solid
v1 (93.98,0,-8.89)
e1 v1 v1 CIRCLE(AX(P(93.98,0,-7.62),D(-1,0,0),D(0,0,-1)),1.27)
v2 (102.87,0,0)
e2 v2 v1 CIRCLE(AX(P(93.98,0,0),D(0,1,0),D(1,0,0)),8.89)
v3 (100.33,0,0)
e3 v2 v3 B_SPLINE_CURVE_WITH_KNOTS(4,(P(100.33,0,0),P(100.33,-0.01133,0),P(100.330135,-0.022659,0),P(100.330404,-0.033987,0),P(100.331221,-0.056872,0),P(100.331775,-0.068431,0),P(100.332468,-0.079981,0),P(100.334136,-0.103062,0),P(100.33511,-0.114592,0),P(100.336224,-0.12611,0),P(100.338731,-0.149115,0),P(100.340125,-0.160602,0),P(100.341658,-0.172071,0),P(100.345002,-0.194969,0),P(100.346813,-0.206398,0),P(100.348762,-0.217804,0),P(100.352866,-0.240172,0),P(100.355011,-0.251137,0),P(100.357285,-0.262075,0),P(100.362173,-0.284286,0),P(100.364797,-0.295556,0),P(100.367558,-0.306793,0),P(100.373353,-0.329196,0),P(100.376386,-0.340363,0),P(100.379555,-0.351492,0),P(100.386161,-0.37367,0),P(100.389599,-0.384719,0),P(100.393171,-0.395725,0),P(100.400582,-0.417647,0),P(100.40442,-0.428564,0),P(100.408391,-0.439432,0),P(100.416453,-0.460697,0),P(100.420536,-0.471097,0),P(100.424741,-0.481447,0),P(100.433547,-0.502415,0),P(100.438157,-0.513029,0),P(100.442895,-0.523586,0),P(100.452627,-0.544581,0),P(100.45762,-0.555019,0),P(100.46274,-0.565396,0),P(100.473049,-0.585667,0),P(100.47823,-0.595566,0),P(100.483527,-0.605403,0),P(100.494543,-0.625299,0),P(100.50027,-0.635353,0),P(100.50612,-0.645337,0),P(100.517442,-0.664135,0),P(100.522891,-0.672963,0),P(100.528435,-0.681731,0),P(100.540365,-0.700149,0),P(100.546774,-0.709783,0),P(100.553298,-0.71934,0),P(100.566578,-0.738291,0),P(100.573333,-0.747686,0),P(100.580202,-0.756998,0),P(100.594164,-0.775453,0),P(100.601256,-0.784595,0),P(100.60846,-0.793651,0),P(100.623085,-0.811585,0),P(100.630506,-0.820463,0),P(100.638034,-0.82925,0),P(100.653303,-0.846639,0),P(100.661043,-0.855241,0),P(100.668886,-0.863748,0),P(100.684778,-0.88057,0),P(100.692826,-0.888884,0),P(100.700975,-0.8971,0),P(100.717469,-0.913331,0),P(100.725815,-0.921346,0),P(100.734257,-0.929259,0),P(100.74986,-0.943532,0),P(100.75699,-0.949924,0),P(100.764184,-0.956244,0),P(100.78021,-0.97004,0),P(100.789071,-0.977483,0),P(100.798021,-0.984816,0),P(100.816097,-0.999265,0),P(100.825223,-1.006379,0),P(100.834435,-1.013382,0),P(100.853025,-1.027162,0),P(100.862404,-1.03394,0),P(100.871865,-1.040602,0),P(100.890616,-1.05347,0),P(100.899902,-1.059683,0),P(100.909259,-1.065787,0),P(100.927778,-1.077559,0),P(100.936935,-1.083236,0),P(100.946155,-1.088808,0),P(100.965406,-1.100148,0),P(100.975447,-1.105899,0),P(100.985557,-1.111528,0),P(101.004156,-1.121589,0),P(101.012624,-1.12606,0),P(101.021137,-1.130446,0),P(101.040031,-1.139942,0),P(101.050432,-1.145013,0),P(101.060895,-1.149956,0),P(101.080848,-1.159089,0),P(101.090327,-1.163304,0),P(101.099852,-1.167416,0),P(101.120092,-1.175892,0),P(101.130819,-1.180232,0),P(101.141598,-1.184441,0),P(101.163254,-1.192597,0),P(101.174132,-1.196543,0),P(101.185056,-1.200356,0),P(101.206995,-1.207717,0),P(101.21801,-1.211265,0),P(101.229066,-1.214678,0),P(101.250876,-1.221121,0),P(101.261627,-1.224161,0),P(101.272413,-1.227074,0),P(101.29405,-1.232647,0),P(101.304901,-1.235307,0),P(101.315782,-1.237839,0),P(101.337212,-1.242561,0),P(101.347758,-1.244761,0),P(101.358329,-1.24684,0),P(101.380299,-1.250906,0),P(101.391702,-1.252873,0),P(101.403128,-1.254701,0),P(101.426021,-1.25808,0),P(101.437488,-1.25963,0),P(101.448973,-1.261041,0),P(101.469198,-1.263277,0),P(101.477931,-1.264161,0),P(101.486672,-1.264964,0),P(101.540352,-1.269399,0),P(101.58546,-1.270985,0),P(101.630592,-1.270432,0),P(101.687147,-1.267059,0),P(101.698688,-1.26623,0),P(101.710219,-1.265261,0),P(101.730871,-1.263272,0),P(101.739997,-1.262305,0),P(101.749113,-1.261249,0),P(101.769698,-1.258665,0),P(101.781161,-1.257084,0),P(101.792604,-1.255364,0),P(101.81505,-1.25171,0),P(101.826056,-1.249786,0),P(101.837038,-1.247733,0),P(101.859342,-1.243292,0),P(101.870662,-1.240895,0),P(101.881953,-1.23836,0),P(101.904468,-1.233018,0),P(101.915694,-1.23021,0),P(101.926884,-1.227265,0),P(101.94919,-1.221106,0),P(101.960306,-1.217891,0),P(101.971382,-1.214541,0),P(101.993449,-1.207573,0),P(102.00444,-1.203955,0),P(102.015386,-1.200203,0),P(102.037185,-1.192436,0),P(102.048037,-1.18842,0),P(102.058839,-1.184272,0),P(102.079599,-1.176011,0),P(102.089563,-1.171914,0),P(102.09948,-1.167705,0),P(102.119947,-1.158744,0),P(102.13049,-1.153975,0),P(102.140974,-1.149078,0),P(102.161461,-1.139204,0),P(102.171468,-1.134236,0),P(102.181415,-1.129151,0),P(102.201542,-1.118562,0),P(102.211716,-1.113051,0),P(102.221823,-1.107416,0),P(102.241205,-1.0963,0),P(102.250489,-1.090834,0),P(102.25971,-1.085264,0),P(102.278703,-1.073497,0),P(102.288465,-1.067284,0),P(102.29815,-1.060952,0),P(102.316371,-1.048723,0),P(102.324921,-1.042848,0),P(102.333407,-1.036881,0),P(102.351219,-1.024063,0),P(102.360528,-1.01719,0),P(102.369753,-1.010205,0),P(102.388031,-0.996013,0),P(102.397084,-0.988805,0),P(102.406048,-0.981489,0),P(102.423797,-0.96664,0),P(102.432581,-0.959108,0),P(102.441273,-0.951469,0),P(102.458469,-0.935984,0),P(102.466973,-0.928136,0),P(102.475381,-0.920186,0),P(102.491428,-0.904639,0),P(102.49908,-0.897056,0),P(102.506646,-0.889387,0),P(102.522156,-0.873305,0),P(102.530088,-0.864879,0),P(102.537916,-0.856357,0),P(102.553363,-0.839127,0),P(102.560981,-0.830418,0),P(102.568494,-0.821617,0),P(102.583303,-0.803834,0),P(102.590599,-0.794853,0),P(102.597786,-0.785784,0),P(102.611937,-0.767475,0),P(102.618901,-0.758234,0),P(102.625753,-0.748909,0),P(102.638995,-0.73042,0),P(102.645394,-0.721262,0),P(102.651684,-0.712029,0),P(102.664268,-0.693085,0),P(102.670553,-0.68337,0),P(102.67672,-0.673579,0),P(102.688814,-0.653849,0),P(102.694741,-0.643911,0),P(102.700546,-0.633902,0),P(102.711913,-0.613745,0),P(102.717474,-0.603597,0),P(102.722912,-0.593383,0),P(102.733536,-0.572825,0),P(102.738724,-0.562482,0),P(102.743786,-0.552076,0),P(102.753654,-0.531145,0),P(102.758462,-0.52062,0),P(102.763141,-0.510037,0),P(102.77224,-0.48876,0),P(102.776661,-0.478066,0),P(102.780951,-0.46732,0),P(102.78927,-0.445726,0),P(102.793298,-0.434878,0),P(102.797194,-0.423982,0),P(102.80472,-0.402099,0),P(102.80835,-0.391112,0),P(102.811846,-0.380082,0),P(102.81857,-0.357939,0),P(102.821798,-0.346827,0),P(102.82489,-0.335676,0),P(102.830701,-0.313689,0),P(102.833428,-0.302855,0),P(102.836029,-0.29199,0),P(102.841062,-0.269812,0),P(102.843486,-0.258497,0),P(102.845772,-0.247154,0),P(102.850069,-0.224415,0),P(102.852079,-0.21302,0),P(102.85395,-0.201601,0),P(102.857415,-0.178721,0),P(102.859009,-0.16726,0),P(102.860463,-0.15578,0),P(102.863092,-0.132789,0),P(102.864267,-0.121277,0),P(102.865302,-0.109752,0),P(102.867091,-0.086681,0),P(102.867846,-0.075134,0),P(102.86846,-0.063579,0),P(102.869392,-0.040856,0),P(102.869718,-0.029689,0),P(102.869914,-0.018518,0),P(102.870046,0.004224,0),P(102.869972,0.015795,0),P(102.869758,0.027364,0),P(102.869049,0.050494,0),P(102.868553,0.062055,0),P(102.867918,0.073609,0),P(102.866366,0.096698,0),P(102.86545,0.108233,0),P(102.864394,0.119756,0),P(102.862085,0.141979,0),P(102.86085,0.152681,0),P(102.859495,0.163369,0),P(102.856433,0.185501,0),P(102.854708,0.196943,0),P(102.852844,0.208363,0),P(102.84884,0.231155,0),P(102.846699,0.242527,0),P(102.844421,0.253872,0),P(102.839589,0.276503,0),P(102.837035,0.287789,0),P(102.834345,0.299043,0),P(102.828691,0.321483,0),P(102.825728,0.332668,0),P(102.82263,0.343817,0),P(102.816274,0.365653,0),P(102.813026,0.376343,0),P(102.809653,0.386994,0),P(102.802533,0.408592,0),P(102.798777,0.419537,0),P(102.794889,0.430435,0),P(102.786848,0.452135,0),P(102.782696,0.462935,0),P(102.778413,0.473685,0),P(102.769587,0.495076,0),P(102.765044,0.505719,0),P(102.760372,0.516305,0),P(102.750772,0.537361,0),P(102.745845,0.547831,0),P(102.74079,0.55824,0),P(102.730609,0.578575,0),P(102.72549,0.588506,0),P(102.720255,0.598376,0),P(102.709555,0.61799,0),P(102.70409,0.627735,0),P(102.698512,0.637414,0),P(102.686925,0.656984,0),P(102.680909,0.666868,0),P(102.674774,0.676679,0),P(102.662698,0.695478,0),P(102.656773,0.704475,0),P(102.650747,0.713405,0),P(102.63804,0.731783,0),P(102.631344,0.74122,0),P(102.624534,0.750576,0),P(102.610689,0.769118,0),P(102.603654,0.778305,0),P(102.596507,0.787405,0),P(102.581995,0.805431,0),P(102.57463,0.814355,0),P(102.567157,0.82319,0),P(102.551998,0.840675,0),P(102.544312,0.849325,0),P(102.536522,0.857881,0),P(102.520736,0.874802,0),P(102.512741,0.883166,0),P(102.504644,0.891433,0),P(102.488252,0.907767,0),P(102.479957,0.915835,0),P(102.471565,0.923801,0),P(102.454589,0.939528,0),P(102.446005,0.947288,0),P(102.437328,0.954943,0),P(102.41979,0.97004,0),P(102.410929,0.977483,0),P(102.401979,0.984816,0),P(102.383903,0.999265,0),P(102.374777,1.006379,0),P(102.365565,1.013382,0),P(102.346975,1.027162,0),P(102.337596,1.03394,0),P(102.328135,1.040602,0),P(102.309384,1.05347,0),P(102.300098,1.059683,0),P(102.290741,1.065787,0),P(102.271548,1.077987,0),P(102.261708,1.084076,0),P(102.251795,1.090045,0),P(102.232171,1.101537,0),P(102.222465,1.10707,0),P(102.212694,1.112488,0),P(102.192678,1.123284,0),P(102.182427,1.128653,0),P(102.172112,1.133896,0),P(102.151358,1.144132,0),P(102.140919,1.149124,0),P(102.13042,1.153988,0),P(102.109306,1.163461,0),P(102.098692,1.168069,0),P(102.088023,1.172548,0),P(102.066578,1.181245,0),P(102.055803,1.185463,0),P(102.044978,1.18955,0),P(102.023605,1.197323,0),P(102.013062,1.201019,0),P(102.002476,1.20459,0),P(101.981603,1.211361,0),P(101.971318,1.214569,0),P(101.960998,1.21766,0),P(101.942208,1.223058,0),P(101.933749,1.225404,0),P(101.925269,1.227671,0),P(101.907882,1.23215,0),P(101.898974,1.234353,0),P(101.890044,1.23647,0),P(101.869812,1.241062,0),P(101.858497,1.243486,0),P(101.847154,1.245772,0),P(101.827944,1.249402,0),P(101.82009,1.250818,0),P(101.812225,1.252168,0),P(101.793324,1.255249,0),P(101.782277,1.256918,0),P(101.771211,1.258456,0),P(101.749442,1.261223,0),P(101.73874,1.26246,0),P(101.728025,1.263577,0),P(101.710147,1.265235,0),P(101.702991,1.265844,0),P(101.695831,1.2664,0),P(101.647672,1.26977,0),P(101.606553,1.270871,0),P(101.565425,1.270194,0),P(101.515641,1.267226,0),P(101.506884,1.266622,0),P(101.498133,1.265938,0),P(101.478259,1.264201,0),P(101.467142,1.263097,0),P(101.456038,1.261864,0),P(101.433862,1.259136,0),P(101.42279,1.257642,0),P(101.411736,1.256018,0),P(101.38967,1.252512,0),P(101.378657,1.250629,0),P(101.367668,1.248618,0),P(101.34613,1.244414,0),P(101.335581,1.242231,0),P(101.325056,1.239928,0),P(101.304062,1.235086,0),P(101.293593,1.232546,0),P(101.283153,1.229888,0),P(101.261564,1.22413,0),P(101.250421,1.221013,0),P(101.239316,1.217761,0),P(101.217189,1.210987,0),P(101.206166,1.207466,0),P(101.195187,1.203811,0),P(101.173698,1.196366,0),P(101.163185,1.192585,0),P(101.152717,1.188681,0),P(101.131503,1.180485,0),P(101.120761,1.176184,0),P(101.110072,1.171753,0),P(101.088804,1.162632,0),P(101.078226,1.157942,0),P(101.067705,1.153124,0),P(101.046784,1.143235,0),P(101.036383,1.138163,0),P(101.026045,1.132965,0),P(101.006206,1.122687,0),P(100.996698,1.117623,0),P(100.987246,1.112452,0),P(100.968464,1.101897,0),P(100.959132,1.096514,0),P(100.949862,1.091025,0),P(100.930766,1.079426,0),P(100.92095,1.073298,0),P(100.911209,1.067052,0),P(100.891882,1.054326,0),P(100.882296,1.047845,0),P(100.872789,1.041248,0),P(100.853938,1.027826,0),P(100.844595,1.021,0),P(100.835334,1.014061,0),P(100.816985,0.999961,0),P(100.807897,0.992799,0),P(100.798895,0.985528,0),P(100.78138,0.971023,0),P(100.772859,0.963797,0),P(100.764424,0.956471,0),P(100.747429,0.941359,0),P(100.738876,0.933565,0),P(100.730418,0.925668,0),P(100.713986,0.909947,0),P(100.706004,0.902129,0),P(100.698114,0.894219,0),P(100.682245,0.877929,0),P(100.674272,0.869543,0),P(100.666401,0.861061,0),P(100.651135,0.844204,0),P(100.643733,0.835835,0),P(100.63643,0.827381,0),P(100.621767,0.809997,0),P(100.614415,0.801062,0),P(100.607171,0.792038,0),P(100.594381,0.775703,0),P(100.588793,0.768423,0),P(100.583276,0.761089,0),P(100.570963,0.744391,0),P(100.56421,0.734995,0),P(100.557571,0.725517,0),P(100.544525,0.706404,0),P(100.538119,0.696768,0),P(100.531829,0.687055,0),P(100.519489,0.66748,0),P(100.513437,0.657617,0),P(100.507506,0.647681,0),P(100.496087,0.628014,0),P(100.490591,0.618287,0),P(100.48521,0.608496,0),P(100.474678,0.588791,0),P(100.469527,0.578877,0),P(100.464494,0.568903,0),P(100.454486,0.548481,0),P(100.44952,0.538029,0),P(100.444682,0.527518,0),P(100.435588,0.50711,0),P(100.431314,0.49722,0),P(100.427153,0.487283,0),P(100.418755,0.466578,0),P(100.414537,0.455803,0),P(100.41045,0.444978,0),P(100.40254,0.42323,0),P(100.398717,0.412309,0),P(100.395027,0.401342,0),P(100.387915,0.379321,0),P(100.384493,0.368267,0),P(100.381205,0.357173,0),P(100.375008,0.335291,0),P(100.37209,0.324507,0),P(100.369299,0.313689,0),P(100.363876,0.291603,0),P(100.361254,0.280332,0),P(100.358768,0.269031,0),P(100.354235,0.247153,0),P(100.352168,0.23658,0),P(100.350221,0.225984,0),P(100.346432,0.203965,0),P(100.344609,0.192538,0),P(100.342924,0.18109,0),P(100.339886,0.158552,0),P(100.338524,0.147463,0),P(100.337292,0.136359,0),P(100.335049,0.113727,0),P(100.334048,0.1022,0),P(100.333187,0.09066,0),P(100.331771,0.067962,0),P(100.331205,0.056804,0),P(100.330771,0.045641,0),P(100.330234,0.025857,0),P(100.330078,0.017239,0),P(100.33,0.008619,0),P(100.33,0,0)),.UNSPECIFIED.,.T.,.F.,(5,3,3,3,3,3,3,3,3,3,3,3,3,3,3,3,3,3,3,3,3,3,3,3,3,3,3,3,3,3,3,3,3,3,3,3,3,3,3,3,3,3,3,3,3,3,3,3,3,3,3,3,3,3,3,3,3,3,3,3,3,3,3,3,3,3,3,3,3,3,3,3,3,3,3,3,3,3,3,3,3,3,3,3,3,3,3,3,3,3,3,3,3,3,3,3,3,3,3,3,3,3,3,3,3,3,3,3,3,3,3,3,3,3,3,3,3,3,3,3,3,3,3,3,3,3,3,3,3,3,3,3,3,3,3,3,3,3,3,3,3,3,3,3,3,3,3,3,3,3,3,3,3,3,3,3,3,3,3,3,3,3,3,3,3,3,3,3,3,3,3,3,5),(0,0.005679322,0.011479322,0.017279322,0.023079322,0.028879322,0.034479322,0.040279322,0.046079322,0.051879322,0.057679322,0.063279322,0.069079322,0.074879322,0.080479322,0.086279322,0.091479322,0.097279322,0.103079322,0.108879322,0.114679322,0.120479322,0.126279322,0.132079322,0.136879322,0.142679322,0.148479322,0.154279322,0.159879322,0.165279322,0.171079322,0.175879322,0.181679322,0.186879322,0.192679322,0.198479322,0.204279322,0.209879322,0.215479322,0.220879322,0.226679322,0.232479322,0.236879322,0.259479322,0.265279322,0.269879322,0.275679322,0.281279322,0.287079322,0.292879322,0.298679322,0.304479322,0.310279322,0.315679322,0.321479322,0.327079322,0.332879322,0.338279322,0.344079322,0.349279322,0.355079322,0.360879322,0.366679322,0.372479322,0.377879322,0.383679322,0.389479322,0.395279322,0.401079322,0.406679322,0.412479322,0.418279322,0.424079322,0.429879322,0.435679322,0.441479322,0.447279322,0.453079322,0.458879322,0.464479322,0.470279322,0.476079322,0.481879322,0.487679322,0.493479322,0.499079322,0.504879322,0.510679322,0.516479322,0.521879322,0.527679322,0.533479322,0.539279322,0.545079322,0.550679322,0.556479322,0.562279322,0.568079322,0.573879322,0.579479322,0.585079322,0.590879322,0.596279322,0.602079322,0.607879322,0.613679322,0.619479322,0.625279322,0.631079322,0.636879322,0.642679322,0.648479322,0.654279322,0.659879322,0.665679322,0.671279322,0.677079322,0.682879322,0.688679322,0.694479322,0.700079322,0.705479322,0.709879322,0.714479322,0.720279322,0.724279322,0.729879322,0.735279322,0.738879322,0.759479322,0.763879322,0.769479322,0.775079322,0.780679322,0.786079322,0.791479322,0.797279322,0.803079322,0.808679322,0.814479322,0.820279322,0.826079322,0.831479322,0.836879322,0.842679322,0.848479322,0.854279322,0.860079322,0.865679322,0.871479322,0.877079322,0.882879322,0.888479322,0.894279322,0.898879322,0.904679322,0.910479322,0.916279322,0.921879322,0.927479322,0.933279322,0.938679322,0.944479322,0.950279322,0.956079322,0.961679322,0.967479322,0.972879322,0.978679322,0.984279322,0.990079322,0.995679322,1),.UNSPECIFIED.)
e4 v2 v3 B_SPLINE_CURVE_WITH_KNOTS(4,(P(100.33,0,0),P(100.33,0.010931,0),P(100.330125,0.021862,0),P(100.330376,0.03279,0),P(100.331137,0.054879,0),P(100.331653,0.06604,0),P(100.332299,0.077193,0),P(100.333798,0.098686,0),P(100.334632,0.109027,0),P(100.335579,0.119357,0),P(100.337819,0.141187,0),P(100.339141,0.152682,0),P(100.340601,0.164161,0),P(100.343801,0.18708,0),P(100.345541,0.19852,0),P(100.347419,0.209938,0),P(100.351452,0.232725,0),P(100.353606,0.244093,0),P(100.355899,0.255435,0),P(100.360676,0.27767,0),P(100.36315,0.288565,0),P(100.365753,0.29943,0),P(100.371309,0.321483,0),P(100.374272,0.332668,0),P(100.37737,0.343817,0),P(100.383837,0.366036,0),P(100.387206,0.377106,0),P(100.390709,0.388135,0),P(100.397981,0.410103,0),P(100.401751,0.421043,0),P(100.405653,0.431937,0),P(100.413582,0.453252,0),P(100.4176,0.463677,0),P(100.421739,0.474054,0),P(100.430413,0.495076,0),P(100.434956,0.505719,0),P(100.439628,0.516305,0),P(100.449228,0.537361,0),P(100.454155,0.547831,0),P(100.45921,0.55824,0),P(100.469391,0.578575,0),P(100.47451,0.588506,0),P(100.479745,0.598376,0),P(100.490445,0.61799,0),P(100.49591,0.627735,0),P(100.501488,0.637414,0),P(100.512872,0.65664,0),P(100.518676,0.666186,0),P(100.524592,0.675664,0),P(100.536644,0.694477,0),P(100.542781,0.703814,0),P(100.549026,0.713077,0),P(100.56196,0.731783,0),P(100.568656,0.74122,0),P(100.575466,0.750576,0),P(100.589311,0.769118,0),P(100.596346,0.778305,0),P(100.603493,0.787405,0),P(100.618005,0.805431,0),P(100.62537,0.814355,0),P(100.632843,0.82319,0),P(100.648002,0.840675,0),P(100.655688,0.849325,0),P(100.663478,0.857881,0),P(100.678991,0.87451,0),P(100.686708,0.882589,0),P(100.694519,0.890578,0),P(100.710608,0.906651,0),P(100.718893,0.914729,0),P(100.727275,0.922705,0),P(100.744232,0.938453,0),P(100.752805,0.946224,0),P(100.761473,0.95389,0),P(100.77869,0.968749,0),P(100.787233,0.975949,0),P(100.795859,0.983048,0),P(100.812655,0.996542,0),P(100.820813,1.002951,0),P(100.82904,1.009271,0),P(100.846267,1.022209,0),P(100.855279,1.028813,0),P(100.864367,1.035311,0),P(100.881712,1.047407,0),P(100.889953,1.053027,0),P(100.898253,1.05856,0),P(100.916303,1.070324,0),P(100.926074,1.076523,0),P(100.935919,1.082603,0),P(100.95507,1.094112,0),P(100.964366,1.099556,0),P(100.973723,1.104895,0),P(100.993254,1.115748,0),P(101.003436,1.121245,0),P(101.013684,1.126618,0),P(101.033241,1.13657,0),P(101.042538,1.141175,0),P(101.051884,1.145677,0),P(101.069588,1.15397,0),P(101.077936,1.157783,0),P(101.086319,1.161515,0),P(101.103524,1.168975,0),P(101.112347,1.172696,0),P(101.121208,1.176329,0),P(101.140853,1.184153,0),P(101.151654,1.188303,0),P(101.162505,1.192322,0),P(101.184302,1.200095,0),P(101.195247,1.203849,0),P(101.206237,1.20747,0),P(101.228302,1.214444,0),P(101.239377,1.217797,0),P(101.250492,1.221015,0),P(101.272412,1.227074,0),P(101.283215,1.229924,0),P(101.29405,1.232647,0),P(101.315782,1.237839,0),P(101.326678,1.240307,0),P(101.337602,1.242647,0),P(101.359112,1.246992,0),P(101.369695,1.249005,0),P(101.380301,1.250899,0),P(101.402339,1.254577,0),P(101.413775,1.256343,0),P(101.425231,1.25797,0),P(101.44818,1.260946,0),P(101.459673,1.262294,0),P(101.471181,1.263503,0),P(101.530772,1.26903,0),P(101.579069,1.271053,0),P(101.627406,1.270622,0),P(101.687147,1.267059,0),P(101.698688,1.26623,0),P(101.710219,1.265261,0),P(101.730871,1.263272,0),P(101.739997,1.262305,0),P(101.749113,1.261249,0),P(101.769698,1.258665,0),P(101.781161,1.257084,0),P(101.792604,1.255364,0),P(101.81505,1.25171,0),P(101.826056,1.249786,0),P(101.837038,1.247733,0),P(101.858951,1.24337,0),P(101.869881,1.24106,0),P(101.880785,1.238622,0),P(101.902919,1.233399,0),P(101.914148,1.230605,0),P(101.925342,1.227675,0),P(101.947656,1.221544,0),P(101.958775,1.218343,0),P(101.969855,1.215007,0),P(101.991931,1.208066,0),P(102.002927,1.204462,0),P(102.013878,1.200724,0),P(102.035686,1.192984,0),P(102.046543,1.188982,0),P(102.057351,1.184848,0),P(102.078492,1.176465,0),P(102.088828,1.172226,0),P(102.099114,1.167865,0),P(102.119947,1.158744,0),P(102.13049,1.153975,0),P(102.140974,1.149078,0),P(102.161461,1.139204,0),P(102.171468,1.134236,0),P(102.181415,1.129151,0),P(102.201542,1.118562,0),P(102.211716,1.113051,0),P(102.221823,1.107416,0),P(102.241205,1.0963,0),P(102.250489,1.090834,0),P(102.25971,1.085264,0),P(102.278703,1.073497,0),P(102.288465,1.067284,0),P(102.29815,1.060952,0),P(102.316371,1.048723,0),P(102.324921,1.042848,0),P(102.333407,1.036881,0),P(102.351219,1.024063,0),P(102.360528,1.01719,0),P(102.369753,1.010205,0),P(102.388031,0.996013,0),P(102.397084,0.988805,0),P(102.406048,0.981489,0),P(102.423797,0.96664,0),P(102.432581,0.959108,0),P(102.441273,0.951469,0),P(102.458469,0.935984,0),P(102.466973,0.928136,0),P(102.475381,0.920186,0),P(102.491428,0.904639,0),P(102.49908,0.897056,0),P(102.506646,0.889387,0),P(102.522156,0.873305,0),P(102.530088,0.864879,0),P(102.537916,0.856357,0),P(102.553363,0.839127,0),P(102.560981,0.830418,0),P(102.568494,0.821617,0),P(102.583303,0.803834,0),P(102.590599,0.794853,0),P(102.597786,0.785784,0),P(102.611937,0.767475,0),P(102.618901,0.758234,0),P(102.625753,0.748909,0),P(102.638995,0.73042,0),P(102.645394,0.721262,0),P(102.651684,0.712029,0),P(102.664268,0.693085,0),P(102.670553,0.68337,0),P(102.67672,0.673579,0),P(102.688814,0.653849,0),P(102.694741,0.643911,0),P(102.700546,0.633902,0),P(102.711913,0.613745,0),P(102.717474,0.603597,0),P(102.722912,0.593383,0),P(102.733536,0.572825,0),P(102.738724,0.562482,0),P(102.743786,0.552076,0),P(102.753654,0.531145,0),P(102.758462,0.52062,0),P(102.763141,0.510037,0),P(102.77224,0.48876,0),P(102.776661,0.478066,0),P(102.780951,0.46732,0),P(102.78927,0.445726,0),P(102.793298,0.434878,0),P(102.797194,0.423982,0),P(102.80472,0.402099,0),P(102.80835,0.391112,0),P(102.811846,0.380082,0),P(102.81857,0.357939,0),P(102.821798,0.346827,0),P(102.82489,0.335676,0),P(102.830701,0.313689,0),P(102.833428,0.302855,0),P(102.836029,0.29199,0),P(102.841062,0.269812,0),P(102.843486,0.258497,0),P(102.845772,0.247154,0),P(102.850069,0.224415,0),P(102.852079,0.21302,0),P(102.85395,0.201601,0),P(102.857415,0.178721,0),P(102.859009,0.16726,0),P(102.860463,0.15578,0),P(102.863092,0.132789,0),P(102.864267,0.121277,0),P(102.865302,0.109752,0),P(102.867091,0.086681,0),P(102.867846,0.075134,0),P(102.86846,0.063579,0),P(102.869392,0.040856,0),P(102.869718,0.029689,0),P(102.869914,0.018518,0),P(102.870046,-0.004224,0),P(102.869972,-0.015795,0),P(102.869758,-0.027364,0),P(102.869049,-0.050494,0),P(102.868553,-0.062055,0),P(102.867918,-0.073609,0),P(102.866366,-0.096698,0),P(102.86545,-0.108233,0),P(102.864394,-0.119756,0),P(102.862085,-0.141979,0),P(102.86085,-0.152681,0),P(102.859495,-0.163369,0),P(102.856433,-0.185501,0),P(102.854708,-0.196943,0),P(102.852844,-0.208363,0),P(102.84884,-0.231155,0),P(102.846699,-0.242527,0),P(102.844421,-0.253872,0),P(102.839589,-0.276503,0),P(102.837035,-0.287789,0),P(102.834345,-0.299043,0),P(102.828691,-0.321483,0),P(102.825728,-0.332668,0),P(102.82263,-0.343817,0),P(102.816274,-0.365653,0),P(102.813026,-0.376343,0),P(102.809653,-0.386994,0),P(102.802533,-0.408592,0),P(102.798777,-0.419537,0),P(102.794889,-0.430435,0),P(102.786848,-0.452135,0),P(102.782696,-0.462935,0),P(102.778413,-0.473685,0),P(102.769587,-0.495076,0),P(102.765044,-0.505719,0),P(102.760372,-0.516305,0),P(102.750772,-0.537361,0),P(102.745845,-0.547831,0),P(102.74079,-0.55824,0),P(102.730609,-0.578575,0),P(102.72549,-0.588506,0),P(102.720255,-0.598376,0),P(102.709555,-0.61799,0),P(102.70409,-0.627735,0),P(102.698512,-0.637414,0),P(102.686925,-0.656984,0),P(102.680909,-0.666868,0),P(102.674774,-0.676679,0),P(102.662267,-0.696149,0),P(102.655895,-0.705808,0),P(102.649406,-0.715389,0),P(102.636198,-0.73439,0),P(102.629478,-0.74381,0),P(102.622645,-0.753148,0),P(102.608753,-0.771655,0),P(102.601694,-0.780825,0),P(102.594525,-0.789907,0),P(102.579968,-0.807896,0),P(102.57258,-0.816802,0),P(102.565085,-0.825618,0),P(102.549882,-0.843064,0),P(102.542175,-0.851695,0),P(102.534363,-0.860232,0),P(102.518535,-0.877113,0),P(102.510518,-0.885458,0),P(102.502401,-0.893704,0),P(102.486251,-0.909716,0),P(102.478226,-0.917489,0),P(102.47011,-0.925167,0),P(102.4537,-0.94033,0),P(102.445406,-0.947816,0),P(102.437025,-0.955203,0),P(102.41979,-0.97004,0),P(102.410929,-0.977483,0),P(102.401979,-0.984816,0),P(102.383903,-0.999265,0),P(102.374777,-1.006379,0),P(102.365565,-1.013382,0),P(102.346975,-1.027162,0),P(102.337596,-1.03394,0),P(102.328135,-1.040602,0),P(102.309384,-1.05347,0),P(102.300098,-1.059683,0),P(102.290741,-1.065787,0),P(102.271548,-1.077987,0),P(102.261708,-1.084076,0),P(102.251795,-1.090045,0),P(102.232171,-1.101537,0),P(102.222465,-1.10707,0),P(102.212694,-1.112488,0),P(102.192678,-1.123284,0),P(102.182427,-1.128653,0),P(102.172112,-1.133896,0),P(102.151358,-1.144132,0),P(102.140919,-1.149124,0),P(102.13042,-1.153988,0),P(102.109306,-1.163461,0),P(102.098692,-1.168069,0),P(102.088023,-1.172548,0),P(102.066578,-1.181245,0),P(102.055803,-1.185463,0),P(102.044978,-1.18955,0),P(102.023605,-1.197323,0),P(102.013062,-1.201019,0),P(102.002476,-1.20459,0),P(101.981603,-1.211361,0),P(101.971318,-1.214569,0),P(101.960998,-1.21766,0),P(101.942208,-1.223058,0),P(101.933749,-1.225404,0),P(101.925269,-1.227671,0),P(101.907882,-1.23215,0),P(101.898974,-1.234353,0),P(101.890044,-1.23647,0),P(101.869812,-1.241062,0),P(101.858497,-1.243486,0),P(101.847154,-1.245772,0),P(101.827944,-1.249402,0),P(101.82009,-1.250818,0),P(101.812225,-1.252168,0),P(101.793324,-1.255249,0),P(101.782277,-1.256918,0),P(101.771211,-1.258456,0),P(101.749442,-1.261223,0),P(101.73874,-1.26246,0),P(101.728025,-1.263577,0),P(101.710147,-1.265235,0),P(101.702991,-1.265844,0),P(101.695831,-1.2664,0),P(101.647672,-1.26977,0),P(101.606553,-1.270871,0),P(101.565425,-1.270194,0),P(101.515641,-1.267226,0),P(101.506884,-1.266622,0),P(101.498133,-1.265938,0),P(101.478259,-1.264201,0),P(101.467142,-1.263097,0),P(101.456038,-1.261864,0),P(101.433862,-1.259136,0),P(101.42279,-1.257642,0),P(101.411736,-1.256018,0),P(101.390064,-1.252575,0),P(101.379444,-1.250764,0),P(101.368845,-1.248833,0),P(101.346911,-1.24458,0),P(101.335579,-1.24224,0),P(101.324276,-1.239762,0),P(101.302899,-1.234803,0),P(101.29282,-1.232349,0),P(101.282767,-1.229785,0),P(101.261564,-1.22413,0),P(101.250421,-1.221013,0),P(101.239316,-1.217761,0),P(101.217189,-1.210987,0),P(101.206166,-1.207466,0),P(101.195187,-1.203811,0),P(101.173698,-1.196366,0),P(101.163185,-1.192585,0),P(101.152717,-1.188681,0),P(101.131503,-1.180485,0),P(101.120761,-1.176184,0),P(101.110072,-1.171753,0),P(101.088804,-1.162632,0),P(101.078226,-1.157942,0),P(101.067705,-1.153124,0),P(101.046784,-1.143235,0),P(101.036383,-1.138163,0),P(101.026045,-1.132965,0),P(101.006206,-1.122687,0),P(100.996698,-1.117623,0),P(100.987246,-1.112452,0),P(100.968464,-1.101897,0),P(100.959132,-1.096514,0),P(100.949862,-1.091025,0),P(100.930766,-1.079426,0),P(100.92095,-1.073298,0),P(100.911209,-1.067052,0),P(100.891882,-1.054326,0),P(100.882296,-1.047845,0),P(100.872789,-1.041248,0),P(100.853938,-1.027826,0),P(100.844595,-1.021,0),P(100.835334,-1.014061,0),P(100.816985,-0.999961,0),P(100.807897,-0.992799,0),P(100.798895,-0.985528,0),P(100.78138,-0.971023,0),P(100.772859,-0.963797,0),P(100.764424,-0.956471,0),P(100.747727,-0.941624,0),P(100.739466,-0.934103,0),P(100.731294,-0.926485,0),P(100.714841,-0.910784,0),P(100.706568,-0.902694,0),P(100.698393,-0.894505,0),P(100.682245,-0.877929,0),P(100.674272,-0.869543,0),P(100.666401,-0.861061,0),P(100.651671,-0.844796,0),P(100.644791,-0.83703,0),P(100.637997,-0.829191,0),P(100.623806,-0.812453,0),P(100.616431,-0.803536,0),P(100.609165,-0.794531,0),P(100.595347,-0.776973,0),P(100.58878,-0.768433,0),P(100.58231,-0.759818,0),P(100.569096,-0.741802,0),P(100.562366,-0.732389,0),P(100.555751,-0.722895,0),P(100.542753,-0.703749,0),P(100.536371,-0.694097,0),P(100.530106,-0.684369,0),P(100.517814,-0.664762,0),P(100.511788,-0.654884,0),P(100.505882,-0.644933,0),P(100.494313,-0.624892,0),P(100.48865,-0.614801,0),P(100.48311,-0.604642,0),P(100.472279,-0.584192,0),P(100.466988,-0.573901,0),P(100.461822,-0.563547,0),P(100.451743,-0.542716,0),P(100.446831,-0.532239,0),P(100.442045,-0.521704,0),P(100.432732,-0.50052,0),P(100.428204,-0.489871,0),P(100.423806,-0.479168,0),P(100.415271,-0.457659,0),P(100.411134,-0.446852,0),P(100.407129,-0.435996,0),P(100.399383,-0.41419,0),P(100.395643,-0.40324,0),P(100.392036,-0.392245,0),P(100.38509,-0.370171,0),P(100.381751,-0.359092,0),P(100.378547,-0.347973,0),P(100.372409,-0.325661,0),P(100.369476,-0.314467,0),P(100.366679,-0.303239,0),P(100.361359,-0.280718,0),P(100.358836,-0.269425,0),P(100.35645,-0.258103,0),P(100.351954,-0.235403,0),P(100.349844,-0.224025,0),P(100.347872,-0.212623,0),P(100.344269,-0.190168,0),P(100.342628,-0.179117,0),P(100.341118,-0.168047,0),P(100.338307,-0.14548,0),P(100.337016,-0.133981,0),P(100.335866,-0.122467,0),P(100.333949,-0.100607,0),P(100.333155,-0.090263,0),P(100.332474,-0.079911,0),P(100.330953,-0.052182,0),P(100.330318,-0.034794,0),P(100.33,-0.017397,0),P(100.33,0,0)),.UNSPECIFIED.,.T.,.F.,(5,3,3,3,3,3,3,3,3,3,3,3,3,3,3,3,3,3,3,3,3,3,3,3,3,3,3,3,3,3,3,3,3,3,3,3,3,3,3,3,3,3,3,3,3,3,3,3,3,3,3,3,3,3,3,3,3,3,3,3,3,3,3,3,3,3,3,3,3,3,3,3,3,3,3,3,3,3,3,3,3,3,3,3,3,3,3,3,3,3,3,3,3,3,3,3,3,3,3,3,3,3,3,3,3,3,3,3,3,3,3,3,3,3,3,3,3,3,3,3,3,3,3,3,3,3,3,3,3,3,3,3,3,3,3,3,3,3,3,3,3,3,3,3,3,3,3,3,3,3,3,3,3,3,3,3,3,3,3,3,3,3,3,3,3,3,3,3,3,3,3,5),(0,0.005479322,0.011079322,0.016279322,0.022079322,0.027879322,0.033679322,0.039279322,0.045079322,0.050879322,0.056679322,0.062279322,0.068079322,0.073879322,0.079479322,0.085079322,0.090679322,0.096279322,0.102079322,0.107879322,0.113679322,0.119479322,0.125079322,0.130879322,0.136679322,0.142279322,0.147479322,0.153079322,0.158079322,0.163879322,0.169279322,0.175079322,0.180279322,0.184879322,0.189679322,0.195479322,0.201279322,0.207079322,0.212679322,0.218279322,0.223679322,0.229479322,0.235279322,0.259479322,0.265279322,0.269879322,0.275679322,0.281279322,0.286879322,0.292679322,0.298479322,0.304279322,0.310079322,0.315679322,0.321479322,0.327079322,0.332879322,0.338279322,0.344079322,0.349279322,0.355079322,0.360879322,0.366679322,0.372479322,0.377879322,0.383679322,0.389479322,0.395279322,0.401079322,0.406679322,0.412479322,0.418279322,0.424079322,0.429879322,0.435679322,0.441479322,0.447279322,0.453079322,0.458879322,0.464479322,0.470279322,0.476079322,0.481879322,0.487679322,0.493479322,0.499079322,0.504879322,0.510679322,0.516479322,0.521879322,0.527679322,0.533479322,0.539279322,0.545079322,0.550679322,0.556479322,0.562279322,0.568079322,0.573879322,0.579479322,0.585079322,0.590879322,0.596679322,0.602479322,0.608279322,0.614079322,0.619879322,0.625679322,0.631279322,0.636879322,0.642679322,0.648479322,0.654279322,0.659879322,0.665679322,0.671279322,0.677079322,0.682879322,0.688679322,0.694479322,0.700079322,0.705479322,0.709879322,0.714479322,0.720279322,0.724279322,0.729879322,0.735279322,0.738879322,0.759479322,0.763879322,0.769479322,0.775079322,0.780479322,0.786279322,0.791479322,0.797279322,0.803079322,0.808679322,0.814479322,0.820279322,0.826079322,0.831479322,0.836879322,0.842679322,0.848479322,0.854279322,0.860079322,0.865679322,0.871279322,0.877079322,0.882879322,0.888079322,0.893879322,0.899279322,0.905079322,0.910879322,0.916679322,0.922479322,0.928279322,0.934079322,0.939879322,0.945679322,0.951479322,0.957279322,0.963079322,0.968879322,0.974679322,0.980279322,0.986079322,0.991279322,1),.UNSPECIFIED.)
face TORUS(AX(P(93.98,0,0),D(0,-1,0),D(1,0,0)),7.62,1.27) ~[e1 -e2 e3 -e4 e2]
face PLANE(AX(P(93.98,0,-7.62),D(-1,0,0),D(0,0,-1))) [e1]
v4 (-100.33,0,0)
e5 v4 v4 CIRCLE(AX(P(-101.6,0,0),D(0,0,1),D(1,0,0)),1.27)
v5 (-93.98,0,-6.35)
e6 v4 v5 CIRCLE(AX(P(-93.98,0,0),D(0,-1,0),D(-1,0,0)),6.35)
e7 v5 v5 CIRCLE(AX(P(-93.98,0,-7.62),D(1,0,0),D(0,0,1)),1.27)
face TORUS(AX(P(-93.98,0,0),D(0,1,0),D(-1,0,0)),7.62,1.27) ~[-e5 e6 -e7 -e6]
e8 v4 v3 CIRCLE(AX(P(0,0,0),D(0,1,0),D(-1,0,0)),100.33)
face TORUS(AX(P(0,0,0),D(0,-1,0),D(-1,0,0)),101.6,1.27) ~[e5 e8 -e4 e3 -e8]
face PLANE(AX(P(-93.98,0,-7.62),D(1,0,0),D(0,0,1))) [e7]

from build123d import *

# Parameters (mm, degrees)
F0_R     = 1.27
F2_W     = 246.2176010013
F2_H     = 106.0751006007
F3_DEPTH = 25.4
F4_DEPTH = 51.308
F6_ANGLE = 90
F7_R     = 1.27
F8_ANGLE = 90


with BuildPart() as f1:
    # F0 (on Top) → F1 (revolve)
    with BuildSketch(Plane.XY):
        with Locations((-101.6, 0)):
            Circle(F0_R)
    revolve(axis=Axis((0, 8.5233533755, 0), (0, 1, 0)))

    # F2 (on Front) → F3 (cut)
    with BuildSketch(Plane.XZ):
        with Locations((10.4999132454, -53.0375503004)):
            Rectangle(F2_W, F2_H)
    extrude(amount=-F3_DEPTH, mode=Mode.SUBTRACT)

    # F2 (on Front) → F4 (cut)
    with BuildSketch(Plane.XZ):
        with Locations((10.4999132454, -53.0375503004)):
            Rectangle(F2_W, F2_H)
    extrude(amount=F4_DEPTH, mode=Mode.SUBTRACT)

    # F5 (on face) → F6 (revolve)
    with BuildSketch(Plane(origin=(0, 0, 0), x_dir=(1, 0, 0), z_dir=(0, 0, -1))):
        with BuildLine():
            ThreePointArc((100.33, 0), (101.6, -1.27), (102.87, 0))
            ThreePointArc((102.87, 0), (101.6, 1.27), (100.33, 0))
        make_face()
    revolve(axis=Axis((93.98, -0.709965534, 0), (0, 1, 0)), revolution_arc=F6_ANGLE)

    # F7 (on face) → F8 (revolve)
    with BuildSketch(Plane(origin=(0, 0, 0), x_dir=(1, 0, 0), z_dir=(0, 0, -1))):
        with Locations((-101.6, 0)):
            Circle(F7_R)
    revolve(axis=Axis((-93.98, -1.0185919236, 0), (0, -1, 0)), revolution_arc=F8_ANGLE)


solid = f1.part
